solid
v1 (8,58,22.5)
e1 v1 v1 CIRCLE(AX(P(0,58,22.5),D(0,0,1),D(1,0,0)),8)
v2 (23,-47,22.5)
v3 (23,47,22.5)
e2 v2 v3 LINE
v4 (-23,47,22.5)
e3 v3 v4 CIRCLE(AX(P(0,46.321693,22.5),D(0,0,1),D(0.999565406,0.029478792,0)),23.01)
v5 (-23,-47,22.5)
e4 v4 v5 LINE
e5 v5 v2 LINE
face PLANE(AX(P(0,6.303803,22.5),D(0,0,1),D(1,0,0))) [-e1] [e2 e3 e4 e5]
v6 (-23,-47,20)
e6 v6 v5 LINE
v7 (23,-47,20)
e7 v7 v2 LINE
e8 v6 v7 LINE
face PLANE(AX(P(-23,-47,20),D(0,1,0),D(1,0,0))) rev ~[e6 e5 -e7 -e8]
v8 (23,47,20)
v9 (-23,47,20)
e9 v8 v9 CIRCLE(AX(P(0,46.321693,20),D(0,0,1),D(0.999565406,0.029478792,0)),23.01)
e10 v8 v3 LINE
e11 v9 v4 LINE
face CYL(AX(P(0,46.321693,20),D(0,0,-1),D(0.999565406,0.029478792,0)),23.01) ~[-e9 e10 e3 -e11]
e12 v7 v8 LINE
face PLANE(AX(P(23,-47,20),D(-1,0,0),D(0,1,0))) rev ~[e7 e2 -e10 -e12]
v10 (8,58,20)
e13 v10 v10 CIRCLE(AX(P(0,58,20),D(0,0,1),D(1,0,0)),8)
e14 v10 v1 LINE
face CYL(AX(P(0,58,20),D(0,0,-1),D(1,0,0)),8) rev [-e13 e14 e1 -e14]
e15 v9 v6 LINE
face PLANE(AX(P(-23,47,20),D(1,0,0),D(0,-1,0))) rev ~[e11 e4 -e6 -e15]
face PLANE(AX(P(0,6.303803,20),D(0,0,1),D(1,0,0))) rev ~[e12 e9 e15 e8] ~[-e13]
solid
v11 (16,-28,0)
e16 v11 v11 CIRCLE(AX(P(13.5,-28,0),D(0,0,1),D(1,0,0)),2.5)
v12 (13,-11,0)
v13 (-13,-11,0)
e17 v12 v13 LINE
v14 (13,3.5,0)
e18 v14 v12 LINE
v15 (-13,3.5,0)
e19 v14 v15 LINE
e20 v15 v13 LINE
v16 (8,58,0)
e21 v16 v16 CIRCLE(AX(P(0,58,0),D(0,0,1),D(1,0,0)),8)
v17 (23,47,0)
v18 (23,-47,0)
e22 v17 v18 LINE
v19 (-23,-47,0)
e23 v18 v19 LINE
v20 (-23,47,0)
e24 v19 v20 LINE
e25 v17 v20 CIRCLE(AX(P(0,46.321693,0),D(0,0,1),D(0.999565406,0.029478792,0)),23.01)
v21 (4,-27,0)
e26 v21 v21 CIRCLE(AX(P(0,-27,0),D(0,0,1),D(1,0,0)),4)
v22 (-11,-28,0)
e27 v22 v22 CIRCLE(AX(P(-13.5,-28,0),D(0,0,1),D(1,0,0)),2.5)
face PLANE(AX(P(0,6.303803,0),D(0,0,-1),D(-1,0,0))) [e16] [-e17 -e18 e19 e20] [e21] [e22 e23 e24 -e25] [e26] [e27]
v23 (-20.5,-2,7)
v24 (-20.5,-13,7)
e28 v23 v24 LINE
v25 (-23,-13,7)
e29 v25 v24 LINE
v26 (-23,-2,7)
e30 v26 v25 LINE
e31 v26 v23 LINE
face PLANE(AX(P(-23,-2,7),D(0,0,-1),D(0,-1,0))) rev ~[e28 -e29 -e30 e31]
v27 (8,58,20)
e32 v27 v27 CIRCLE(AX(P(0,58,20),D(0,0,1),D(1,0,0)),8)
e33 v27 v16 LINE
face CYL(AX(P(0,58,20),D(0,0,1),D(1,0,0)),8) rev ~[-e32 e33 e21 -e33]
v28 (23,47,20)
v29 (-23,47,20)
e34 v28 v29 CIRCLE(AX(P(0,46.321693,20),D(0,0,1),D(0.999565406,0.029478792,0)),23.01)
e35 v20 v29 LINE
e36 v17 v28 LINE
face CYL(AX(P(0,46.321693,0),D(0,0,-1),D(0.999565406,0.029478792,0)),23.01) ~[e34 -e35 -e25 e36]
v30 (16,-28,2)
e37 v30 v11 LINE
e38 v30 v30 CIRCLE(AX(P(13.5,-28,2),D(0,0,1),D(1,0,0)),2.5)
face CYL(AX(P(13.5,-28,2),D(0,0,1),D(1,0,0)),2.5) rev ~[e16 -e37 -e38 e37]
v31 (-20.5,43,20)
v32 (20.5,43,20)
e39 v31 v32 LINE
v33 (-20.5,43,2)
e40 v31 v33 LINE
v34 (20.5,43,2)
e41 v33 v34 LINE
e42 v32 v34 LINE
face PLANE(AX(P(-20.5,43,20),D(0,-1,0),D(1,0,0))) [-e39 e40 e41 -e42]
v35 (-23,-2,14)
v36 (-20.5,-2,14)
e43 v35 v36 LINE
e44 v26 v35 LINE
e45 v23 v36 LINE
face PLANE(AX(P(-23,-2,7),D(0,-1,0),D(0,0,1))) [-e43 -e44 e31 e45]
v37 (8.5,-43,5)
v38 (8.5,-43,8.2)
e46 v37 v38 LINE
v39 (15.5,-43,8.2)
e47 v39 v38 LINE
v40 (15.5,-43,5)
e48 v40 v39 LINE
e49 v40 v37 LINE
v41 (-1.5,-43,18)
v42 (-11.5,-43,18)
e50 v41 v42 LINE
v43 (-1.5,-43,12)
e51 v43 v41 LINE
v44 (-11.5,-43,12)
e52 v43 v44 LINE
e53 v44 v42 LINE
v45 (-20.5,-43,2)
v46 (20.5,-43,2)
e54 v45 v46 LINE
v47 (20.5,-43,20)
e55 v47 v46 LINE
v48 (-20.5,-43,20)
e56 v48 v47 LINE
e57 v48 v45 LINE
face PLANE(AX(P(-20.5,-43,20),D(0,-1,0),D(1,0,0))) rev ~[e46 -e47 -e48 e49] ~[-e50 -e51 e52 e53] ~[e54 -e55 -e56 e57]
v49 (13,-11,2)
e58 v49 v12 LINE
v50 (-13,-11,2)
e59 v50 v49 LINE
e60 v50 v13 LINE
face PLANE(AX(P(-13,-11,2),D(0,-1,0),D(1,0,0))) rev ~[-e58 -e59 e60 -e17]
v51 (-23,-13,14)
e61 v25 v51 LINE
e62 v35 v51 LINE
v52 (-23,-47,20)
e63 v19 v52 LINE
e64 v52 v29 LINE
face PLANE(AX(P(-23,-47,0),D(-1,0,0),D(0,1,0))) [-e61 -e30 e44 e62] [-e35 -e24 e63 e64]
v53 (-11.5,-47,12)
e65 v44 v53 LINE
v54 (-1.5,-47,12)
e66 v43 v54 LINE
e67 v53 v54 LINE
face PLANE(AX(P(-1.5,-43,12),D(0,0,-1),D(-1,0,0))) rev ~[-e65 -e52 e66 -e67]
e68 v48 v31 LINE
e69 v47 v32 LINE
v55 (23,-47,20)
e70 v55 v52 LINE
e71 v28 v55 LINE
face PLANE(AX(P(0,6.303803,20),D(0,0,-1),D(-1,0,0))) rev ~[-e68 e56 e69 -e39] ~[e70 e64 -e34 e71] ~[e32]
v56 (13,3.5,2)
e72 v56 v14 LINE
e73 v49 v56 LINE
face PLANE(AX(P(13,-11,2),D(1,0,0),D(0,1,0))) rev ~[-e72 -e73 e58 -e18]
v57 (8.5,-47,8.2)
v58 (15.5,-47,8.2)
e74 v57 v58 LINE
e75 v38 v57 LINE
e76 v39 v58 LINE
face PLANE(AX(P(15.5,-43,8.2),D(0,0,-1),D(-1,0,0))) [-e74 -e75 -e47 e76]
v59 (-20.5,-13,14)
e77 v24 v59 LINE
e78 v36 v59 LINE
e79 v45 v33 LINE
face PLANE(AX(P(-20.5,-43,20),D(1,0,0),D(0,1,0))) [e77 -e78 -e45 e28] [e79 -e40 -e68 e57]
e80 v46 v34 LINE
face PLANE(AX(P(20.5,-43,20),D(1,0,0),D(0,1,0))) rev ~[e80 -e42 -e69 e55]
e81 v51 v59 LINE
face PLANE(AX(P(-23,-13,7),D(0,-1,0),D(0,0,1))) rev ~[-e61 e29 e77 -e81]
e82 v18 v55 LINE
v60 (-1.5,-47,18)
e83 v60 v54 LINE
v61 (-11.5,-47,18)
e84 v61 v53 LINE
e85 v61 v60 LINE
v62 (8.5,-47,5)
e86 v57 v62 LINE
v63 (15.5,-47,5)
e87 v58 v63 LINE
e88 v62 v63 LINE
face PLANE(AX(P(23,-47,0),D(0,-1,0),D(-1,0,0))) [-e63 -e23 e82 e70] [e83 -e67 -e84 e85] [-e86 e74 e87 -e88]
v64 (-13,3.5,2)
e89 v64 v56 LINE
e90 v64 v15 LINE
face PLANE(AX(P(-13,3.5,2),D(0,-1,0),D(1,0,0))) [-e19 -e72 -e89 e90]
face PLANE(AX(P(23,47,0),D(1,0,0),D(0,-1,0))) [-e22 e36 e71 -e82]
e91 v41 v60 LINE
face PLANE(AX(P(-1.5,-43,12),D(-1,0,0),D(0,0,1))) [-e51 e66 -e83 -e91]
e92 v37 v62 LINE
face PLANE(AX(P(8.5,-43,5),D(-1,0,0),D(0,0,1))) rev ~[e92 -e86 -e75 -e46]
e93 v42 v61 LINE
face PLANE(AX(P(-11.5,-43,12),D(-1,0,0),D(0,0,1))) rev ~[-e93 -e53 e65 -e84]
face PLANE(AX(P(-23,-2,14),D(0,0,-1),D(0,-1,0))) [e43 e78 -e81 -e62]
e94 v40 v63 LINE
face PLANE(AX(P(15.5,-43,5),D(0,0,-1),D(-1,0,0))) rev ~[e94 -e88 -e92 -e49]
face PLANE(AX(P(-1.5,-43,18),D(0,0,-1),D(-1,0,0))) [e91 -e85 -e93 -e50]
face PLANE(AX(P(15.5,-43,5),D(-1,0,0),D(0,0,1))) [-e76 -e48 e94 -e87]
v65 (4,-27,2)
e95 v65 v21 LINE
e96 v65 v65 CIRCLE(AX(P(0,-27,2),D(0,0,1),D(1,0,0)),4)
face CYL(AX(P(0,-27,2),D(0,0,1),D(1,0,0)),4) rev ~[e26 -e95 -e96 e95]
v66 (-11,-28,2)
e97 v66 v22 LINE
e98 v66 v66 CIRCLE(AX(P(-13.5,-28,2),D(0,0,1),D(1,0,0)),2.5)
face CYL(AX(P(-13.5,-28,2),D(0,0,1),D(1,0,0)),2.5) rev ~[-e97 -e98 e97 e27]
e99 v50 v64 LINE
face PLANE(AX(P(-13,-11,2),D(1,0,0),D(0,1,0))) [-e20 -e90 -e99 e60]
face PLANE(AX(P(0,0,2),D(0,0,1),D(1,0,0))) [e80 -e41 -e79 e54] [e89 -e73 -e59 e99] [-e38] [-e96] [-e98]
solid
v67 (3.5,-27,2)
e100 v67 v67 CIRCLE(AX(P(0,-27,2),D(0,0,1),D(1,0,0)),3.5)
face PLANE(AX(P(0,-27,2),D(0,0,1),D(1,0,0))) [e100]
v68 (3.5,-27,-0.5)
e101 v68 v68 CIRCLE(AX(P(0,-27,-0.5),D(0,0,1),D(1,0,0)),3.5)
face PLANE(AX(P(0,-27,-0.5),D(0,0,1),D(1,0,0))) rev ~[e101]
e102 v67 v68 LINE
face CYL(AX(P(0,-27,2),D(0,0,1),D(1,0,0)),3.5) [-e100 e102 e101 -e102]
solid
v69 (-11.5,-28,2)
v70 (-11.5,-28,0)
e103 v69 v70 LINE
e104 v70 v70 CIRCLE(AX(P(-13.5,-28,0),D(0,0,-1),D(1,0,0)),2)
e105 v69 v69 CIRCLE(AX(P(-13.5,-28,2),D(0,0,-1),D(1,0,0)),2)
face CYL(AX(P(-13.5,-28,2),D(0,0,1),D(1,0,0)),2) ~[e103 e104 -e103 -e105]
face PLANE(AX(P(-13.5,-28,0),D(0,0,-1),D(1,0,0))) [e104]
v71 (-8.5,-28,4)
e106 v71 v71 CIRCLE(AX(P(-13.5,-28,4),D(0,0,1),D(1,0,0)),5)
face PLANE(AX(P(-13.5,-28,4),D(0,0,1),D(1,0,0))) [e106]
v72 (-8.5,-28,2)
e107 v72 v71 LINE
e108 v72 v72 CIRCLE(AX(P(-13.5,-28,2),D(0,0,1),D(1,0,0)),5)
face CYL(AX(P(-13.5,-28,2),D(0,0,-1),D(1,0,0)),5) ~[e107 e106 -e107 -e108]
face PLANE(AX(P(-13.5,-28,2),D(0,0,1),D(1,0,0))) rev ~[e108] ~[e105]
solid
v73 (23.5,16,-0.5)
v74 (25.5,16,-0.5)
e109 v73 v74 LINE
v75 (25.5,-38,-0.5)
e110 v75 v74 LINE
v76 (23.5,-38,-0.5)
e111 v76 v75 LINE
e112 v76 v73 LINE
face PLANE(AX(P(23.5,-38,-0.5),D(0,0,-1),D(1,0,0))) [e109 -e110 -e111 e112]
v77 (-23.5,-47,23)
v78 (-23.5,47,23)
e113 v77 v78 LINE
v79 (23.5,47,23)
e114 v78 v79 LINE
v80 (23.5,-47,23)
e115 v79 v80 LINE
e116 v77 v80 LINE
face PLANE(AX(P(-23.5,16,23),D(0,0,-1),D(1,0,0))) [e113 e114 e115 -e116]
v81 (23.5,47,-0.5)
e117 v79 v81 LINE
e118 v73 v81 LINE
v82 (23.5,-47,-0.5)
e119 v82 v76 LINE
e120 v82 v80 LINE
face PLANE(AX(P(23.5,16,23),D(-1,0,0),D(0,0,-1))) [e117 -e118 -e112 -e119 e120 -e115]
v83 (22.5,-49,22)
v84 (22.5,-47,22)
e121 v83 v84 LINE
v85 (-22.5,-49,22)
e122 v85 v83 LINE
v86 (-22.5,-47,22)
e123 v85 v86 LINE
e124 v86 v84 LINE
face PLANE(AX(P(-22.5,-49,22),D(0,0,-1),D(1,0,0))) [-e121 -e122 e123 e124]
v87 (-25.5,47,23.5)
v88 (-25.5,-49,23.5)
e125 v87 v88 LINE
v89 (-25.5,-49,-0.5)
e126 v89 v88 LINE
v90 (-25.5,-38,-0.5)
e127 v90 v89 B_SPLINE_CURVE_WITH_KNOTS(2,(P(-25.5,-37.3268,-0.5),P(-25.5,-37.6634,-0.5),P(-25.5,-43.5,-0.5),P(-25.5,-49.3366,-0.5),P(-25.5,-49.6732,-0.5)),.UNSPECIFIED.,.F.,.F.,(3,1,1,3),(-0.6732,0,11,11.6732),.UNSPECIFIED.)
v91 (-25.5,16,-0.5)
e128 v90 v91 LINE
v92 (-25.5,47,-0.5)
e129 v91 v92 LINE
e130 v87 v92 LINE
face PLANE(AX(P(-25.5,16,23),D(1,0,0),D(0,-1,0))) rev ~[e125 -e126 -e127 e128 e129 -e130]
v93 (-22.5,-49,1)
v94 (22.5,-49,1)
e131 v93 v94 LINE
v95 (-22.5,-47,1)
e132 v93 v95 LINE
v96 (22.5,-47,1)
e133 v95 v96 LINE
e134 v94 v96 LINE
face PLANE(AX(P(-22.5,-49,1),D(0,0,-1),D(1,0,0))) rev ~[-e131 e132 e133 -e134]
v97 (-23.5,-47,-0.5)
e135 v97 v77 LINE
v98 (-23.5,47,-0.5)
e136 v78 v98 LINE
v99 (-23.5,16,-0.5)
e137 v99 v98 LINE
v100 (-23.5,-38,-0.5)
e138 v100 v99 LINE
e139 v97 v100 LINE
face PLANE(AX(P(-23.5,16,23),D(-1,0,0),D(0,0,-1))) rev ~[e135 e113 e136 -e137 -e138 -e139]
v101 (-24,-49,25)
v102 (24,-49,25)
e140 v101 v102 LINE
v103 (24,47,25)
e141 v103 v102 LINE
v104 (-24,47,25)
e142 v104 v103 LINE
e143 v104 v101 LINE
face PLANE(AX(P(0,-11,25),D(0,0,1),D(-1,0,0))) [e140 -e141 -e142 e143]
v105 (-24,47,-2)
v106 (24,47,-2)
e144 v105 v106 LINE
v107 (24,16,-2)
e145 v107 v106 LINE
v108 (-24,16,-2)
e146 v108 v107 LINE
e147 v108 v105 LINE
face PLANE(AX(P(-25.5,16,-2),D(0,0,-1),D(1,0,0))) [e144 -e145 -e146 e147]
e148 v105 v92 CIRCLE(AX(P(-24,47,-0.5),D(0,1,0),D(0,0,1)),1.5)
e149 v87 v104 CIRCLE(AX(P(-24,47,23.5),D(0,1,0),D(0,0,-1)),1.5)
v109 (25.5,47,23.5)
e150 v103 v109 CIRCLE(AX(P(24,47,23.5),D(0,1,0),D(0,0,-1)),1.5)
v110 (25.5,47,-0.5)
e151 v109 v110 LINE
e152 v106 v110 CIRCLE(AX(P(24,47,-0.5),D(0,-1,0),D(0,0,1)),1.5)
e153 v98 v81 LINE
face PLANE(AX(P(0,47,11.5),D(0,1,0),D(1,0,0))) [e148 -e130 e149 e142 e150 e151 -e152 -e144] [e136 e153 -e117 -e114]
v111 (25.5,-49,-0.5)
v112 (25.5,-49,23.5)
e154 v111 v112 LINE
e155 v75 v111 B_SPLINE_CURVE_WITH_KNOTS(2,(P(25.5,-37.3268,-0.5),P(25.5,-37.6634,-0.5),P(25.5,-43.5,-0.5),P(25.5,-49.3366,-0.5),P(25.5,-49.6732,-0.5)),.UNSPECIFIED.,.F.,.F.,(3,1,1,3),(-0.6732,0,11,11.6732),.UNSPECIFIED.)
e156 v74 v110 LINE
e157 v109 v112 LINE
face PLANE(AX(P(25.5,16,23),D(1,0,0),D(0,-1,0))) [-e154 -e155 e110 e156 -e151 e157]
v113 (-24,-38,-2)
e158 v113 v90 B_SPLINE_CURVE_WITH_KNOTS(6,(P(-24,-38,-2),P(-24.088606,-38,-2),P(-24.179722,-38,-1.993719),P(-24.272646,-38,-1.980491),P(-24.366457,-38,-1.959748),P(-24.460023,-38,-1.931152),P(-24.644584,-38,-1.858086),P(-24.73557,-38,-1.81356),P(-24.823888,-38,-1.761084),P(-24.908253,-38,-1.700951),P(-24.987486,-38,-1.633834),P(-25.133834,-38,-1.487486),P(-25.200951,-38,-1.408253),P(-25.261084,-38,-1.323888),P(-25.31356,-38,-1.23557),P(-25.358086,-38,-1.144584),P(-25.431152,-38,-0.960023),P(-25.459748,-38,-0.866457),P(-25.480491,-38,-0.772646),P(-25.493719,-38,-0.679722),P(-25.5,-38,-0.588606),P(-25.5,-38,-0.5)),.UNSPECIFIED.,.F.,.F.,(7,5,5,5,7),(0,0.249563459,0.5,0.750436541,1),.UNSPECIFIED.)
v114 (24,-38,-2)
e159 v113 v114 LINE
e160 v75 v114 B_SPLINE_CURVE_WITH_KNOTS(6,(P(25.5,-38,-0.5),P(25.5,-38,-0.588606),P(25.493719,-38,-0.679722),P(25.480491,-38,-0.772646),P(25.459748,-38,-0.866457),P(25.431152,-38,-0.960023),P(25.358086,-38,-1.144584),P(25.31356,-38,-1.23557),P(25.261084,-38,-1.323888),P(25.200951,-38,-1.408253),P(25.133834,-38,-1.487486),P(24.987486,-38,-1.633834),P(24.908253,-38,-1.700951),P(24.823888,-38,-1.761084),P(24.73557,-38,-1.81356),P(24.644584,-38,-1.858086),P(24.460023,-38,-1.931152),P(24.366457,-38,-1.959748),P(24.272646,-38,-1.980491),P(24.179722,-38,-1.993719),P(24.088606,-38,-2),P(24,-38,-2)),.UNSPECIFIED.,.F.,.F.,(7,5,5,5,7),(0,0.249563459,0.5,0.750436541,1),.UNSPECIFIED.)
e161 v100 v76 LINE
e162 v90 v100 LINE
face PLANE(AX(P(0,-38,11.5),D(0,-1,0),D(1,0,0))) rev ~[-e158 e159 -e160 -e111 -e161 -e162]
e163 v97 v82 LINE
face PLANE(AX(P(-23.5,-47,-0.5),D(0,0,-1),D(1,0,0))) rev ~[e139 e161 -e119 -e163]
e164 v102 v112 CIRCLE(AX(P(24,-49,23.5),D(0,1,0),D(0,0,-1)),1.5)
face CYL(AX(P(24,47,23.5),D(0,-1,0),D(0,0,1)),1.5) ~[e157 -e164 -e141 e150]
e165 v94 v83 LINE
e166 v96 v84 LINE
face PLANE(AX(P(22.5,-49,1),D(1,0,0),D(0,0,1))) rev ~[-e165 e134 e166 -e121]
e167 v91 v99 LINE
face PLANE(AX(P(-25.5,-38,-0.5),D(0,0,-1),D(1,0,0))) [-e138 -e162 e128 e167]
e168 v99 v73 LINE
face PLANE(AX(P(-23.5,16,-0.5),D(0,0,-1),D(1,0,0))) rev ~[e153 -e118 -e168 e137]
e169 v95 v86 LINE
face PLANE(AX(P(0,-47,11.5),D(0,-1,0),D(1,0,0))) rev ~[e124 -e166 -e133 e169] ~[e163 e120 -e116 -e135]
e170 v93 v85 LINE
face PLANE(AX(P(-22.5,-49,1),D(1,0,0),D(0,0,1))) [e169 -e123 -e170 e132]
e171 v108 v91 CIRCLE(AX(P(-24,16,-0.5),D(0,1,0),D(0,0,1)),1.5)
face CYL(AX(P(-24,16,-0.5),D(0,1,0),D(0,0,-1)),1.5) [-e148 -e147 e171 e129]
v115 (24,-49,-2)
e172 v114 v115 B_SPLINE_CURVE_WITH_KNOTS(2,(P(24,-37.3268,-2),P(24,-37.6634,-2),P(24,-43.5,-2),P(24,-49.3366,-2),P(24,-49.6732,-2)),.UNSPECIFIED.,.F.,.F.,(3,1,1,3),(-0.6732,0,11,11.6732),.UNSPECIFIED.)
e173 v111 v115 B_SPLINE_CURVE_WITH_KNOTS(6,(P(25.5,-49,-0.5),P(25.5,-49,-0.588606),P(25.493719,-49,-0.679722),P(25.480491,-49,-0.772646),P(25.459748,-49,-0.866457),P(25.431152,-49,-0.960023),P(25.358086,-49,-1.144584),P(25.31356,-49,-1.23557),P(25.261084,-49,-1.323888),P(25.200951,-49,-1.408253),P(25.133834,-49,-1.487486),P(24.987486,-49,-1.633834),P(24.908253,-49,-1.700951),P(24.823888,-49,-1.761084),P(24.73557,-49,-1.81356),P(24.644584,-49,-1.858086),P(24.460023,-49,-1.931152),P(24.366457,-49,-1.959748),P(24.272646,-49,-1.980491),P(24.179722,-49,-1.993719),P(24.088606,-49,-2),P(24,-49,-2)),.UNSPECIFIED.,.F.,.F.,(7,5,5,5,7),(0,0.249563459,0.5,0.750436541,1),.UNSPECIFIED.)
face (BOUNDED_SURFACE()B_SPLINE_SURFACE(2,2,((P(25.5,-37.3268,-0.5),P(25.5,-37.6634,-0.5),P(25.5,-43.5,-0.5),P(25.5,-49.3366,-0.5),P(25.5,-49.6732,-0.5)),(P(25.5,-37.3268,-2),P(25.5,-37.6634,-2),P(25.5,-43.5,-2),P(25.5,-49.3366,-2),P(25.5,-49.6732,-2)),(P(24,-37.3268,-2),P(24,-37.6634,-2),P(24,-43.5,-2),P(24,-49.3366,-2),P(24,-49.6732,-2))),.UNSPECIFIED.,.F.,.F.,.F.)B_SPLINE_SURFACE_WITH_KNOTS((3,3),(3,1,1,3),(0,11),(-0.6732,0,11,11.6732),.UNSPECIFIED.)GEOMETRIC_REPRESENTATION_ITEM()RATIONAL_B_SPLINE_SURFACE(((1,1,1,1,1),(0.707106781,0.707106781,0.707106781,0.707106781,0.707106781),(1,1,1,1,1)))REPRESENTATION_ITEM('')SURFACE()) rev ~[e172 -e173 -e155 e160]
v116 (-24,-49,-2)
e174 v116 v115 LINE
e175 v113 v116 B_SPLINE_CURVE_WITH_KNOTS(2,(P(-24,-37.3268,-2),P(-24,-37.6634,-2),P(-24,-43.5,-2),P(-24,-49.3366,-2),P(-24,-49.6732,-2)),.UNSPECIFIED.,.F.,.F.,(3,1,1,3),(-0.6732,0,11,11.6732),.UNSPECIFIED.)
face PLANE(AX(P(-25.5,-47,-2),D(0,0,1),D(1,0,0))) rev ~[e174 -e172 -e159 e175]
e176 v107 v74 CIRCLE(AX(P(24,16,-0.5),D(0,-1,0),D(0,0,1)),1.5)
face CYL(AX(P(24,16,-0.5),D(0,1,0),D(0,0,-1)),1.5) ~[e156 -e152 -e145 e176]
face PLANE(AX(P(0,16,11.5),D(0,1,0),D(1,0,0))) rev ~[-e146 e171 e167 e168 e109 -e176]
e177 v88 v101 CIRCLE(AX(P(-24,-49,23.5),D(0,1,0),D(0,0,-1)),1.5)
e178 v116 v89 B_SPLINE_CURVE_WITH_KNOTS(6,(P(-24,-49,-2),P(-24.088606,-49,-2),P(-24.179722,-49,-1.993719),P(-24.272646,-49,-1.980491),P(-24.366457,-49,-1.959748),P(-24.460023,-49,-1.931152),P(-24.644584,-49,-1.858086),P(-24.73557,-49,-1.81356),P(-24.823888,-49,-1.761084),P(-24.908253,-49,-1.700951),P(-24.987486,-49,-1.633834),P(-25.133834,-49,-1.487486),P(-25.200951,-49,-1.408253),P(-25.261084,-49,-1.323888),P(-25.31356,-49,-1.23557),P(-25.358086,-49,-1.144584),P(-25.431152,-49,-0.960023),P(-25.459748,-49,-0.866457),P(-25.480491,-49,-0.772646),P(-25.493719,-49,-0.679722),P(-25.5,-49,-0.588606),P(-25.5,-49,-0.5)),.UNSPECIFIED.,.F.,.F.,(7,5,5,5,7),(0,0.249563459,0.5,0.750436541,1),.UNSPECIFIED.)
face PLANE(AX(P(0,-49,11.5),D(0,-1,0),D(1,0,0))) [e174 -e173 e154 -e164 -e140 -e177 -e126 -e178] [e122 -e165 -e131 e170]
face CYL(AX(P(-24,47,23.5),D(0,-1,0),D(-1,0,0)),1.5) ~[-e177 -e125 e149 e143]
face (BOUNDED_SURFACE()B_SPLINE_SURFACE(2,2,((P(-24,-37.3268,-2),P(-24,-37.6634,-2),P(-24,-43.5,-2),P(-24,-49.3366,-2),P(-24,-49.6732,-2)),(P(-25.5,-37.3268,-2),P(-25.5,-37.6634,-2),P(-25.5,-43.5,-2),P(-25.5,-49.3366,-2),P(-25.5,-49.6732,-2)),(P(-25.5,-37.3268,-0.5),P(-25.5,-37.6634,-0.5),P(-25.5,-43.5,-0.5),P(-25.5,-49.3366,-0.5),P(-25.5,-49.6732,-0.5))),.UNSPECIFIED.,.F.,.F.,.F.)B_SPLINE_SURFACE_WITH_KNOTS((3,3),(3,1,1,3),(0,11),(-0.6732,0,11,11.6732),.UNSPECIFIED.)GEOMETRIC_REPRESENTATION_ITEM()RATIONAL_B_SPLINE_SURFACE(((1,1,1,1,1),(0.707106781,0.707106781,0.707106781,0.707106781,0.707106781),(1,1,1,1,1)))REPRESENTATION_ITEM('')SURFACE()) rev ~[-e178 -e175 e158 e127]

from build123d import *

# Parameters (mm, degrees)
PAD_DEPTH       = 20
SKETCH001_R     = 8
POCKET_DEPTH    = 20.001
SKETCH002_W     = 41
SKETCH002_H     = 86
POCKET001_DEPTH = 18
SKETCH003_W     = 26
SKETCH003_H     = 14.5
POCKET002_DEPTH = 5
SKETCH004_R     = 4
POCKET003_DEPTH = 5
SKETCH005_W     = 7
SKETCH005_H     = 3.2
POCKET004_DEPTH = 4.001
SKETCH006_W     = 10
SKETCH006_H     = 6
POCKET005_DEPTH = 4.001
SKETCH007_R     = 2.5
POCKET006_DEPTH = 2.001
SKETCH012_R     = 2.5
POCKET007_DEPTH = 2.001
SKETCH013_W     = 11
SKETCH013_H     = 7
POCKET008_DEPTH = 2.5
SKETCH008_R     = 5
PAD001_DEPTH    = 2
SKETCH009_R     = 2
PAD002_DEPTH    = 2
SKETCH010_R     = 3.5
PAD003_DEPTH    = 2.5
SKETCH014_R     = 8
PAD005_DEPTH    = 2.5
SKETCH015_W     = 51
SKETCH015_H     = 27
SKETCH015_W_2   = 47
SKETCH015_H_2   = 23.5
PAD006_DEPTH    = 9
SKETCH016_W     = 51
SKETCH016_H     = 27
PAD007_DEPTH    = 2
SKETCH017_W     = 2
SKETCH017_H     = 23.5
PAD008_DEPTH    = 54
SKETCH018_W     = 51
SKETCH018_H     = 27
SKETCH018_W_2   = 47
SKETCH018_H_2   = 23.5
PAD009_DEPTH    = 31
SKETCH019_W     = 51
SKETCH019_H     = 54
PAD010_DEPTH    = 2
SKETCH020_W     = 45
SKETCH020_H     = 21
POCKET009_DEPTH = 5
FILLET_R        = 1.5
FILLET001_R     = 1.5
FILLET002_R     = 1.5
FILLET003_R     = 1.5
FILLET004_R     = 1.5
FILLET005_R     = 1.5


with BuildPart() as body:
    # Sketch → Pad (new body)
    with BuildSketch(Plane.XY):
        with BuildLine():
            Line((23, 47), (23, -47))
            Line((23, -47), (-23, -47))
            Line((-23, -47), (-23, 47))
            ThreePointArc((23, 47), (0, 69.331693), (-23, 47))
        make_face()
    extrude(amount=PAD_DEPTH)

    # Sketch001 (on Face6 of Pad) → Pocket (cut, through all)
    with BuildSketch(Plane.XY.offset(20)):
        with Locations((0, 58)):
            Circle(SKETCH001_R)
    extrude(amount=-POCKET_DEPTH, mode=Mode.SUBTRACT)

    # Sketch002 (on Face5 of Pocket) → Pocket001 (cut)
    with BuildSketch(Plane.XY.offset(20)):
        Rectangle(SKETCH002_W, SKETCH002_H)
    extrude(amount=-POCKET001_DEPTH, mode=Mode.SUBTRACT)

    # Sketch003 (on Face12 of Pocket001) → Pocket002 (cut)
    with BuildSketch(Plane.XY.offset(2)):
        with Locations((0, -3.75)):
            Rectangle(SKETCH003_W, SKETCH003_H)
    extrude(amount=-POCKET002_DEPTH, mode=Mode.SUBTRACT)

    # Sketch004 (on Face16 of Pocket002) → Pocket003 (cut)
    with BuildSketch(Plane.XY.offset(2)):
        with Locations((0, -27)):
            Circle(SKETCH004_R)
    extrude(amount=-POCKET003_DEPTH, mode=Mode.SUBTRACT)

    # Sketch005 (on Face15 of Pocket003) → Pocket004 (cut, through all)
    with BuildSketch(Plane(origin=(0, -43, 0), x_dir=(-1, 0, 0), z_dir=(0, 1, 0))):
        with Locations((-12, 6.6)):
            Rectangle(SKETCH005_W, SKETCH005_H)
    extrude(amount=-POCKET004_DEPTH, mode=Mode.SUBTRACT)

    # Sketch006 (on Face19 of Pocket004) → Pocket005 (cut, through all)
    with BuildSketch(Plane(origin=(0, -43, 0), x_dir=(-1, 0, 0), z_dir=(0, 1, 0))):
        with Locations((6.5, 15)):
            Rectangle(SKETCH006_W, SKETCH006_H)
    extrude(amount=-POCKET005_DEPTH, mode=Mode.SUBTRACT)

    # Sketch007 (on Face25 of Pocket005) → Pocket006 (cut, through all)
    with BuildSketch(Plane.XY.offset(2)):
        with Locations((-13.5, -28)):
            Circle(SKETCH007_R)
    extrude(amount=-POCKET006_DEPTH, mode=Mode.SUBTRACT)

    # Sketch012 (on Face26 of Pocket006) → Pocket007 (cut, through all)
    with BuildSketch(Plane.XY.offset(2)):
        with Locations((13.5, -28)):
            Circle(SKETCH012_R)
    extrude(amount=-POCKET007_DEPTH, mode=Mode.SUBTRACT)

    # Sketch013 (on Face6 of Pocket007) → Pocket008 (cut)
    with BuildSketch(Plane(origin=(-23, 0, 0), x_dir=(0, -1, 0), z_dir=(-1, 0, 0))):
        with Locations((7.5, 10.5)):
            Rectangle(SKETCH013_W, SKETCH013_H)
    extrude(amount=-POCKET008_DEPTH, mode=Mode.SUBTRACT)


with BuildPart() as leddiffuser:
    # Sketch008 (on DatumPlane) → Pad001 (new body)
    with BuildSketch(Plane.XY.offset(2)):
        with Locations((-13.5, -28)):
            Circle(SKETCH008_R)
    extrude(amount=PAD001_DEPTH)

    # Sketch009 (on Face2 of Pad001) → Pad002 (join)
    with BuildSketch(Plane(origin=(0, 0, 2), x_dir=(1, 0, 0), z_dir=(0, 0, -1))):
        with Locations((-13.5, 28)):
            Circle(SKETCH009_R)
    extrude(amount=PAD002_DEPTH)


with BuildPart() as button:
    # Sketch010 (on DatumPlane) → Pad003 (new body)
    with BuildSketch(Plane.XY.offset(2)):
        with Locations((0, -27)):
            Circle(SKETCH010_R)
    extrude(amount=-PAD003_DEPTH)


with BuildPart() as backplate:
    # Sketch014 (on DatumPlane) → Pad005 (new body)
    with BuildSketch(Plane.XY.offset(20)):
        with BuildLine():
            Line((-23, 47), (-23, -47))
            Line((-23, -47), (23, -47))
            Line((23, -47), (23, 47))
            ThreePointArc((23, 47), (0, 69.331693), (-23, 47))
        make_face()
        with Locations((0, 58)):
            Circle(SKETCH014_R, mode=Mode.SUBTRACT)
    extrude(amount=PAD005_DEPTH)


with BuildPart() as sleeve:
    # Sketch015 (on DatumPlane) → Pad006 (new body)
    with BuildSketch(Plane.XZ.offset(47)):
        with Locations((0, 11.5)):
            Rectangle(SKETCH015_W, SKETCH015_H)
        with Locations((0, 11.25)):
            Rectangle(SKETCH015_W_2, SKETCH015_H_2, mode=Mode.SUBTRACT)
    extrude(amount=-PAD006_DEPTH)

    # Sketch016 (on DatumPlane) → Pad007 (join)
    with BuildSketch(Plane.XZ.offset(47)):
        with Locations((0, 11.5)):
            Rectangle(SKETCH016_W, SKETCH016_H)
    extrude(amount=PAD007_DEPTH)

    # Sketch017 (on Face5 of Pad007) → Pad008 (join)
    with BuildSketch(Plane(origin=(0, -38, 0), x_dir=(1, 0, 0), z_dir=(0, 1, 0))):
        with Locations((24.5, -11.25)):
            Rectangle(SKETCH017_W, SKETCH017_H)
        with Locations((-24.5, -11.25)):
            Rectangle(SKETCH017_W, SKETCH017_H)
    extrude(amount=PAD008_DEPTH)

    # Sketch018 (on Face20 of Pad008) → Pad009 (join)
    with BuildSketch(Plane(origin=(0, 16, 0), x_dir=(1, 0, 0), z_dir=(0, 1, 0))):
        with Locations((0, -11.5)):
            Rectangle(SKETCH018_W, SKETCH018_H)
        with Locations((0, -11.25)):
            Rectangle(SKETCH018_W_2, SKETCH018_H_2, mode=Mode.SUBTRACT)
    extrude(amount=PAD009_DEPTH)

    # Sketch019 (on Face13 of Pad009) → Pad010 (join)
    with BuildSketch(Plane(origin=(0, -47, 23), x_dir=(-1, 0, 0), z_dir=(0, 0, 1))):
        with Locations((0, -36)):
            Rectangle(SKETCH019_W, SKETCH019_H)
    extrude(amount=PAD010_DEPTH)

    # Sketch020 (on Face14 of Pad010) → Pocket009 (cut)
    with BuildSketch(Plane.XZ.offset(49)):
        with Locations((0, 11.5)):
            Rectangle(SKETCH020_W, SKETCH020_H)
    extrude(amount=-POCKET009_DEPTH, mode=Mode.SUBTRACT)

    # Fillet
    fillet_edges = [sleeve.edges().sort_by_distance(p)[0] for p in [
        (-25.5, 31.5, -2),
    ]]
    fillet(fillet_edges, radius=FILLET_R)

    # Fillet001
    fillet001_edges = [sleeve.edges().sort_by_distance(p)[0] for p in [
        (25.5, 31.5, -2),
    ]]
    fillet(fillet001_edges, radius=FILLET001_R)

    # Fillet002
    fillet002_edges = [sleeve.edges().sort_by_distance(p)[0] for p in [
        (-25.5, 31.5, 25),
    ]]
    fillet(fillet002_edges, radius=FILLET002_R)

    # Fillet003
    fillet003_edges = [sleeve.edges().sort_by_distance(p)[0] for p in [
        (25.5, 31.5, 25),
    ]]
    fillet(fillet003_edges, radius=FILLET003_R)

    # Fillet004
    fillet004_edges = [sleeve.edges().sort_by_distance(p)[0] for p in [
        (25.5, -42.5, -2),
    ]]
    fillet(fillet004_edges, radius=FILLET004_R)

    # Fillet005
    fillet005_edges = [sleeve.edges().sort_by_distance(p)[0] for p in [
        (-25.5, -42.5, -2),
    ]]
    fillet(fillet005_edges, radius=FILLET005_R)


solid = Compound([body.part, leddiffuser.part, button.part, backplate.part, sleeve.part])
